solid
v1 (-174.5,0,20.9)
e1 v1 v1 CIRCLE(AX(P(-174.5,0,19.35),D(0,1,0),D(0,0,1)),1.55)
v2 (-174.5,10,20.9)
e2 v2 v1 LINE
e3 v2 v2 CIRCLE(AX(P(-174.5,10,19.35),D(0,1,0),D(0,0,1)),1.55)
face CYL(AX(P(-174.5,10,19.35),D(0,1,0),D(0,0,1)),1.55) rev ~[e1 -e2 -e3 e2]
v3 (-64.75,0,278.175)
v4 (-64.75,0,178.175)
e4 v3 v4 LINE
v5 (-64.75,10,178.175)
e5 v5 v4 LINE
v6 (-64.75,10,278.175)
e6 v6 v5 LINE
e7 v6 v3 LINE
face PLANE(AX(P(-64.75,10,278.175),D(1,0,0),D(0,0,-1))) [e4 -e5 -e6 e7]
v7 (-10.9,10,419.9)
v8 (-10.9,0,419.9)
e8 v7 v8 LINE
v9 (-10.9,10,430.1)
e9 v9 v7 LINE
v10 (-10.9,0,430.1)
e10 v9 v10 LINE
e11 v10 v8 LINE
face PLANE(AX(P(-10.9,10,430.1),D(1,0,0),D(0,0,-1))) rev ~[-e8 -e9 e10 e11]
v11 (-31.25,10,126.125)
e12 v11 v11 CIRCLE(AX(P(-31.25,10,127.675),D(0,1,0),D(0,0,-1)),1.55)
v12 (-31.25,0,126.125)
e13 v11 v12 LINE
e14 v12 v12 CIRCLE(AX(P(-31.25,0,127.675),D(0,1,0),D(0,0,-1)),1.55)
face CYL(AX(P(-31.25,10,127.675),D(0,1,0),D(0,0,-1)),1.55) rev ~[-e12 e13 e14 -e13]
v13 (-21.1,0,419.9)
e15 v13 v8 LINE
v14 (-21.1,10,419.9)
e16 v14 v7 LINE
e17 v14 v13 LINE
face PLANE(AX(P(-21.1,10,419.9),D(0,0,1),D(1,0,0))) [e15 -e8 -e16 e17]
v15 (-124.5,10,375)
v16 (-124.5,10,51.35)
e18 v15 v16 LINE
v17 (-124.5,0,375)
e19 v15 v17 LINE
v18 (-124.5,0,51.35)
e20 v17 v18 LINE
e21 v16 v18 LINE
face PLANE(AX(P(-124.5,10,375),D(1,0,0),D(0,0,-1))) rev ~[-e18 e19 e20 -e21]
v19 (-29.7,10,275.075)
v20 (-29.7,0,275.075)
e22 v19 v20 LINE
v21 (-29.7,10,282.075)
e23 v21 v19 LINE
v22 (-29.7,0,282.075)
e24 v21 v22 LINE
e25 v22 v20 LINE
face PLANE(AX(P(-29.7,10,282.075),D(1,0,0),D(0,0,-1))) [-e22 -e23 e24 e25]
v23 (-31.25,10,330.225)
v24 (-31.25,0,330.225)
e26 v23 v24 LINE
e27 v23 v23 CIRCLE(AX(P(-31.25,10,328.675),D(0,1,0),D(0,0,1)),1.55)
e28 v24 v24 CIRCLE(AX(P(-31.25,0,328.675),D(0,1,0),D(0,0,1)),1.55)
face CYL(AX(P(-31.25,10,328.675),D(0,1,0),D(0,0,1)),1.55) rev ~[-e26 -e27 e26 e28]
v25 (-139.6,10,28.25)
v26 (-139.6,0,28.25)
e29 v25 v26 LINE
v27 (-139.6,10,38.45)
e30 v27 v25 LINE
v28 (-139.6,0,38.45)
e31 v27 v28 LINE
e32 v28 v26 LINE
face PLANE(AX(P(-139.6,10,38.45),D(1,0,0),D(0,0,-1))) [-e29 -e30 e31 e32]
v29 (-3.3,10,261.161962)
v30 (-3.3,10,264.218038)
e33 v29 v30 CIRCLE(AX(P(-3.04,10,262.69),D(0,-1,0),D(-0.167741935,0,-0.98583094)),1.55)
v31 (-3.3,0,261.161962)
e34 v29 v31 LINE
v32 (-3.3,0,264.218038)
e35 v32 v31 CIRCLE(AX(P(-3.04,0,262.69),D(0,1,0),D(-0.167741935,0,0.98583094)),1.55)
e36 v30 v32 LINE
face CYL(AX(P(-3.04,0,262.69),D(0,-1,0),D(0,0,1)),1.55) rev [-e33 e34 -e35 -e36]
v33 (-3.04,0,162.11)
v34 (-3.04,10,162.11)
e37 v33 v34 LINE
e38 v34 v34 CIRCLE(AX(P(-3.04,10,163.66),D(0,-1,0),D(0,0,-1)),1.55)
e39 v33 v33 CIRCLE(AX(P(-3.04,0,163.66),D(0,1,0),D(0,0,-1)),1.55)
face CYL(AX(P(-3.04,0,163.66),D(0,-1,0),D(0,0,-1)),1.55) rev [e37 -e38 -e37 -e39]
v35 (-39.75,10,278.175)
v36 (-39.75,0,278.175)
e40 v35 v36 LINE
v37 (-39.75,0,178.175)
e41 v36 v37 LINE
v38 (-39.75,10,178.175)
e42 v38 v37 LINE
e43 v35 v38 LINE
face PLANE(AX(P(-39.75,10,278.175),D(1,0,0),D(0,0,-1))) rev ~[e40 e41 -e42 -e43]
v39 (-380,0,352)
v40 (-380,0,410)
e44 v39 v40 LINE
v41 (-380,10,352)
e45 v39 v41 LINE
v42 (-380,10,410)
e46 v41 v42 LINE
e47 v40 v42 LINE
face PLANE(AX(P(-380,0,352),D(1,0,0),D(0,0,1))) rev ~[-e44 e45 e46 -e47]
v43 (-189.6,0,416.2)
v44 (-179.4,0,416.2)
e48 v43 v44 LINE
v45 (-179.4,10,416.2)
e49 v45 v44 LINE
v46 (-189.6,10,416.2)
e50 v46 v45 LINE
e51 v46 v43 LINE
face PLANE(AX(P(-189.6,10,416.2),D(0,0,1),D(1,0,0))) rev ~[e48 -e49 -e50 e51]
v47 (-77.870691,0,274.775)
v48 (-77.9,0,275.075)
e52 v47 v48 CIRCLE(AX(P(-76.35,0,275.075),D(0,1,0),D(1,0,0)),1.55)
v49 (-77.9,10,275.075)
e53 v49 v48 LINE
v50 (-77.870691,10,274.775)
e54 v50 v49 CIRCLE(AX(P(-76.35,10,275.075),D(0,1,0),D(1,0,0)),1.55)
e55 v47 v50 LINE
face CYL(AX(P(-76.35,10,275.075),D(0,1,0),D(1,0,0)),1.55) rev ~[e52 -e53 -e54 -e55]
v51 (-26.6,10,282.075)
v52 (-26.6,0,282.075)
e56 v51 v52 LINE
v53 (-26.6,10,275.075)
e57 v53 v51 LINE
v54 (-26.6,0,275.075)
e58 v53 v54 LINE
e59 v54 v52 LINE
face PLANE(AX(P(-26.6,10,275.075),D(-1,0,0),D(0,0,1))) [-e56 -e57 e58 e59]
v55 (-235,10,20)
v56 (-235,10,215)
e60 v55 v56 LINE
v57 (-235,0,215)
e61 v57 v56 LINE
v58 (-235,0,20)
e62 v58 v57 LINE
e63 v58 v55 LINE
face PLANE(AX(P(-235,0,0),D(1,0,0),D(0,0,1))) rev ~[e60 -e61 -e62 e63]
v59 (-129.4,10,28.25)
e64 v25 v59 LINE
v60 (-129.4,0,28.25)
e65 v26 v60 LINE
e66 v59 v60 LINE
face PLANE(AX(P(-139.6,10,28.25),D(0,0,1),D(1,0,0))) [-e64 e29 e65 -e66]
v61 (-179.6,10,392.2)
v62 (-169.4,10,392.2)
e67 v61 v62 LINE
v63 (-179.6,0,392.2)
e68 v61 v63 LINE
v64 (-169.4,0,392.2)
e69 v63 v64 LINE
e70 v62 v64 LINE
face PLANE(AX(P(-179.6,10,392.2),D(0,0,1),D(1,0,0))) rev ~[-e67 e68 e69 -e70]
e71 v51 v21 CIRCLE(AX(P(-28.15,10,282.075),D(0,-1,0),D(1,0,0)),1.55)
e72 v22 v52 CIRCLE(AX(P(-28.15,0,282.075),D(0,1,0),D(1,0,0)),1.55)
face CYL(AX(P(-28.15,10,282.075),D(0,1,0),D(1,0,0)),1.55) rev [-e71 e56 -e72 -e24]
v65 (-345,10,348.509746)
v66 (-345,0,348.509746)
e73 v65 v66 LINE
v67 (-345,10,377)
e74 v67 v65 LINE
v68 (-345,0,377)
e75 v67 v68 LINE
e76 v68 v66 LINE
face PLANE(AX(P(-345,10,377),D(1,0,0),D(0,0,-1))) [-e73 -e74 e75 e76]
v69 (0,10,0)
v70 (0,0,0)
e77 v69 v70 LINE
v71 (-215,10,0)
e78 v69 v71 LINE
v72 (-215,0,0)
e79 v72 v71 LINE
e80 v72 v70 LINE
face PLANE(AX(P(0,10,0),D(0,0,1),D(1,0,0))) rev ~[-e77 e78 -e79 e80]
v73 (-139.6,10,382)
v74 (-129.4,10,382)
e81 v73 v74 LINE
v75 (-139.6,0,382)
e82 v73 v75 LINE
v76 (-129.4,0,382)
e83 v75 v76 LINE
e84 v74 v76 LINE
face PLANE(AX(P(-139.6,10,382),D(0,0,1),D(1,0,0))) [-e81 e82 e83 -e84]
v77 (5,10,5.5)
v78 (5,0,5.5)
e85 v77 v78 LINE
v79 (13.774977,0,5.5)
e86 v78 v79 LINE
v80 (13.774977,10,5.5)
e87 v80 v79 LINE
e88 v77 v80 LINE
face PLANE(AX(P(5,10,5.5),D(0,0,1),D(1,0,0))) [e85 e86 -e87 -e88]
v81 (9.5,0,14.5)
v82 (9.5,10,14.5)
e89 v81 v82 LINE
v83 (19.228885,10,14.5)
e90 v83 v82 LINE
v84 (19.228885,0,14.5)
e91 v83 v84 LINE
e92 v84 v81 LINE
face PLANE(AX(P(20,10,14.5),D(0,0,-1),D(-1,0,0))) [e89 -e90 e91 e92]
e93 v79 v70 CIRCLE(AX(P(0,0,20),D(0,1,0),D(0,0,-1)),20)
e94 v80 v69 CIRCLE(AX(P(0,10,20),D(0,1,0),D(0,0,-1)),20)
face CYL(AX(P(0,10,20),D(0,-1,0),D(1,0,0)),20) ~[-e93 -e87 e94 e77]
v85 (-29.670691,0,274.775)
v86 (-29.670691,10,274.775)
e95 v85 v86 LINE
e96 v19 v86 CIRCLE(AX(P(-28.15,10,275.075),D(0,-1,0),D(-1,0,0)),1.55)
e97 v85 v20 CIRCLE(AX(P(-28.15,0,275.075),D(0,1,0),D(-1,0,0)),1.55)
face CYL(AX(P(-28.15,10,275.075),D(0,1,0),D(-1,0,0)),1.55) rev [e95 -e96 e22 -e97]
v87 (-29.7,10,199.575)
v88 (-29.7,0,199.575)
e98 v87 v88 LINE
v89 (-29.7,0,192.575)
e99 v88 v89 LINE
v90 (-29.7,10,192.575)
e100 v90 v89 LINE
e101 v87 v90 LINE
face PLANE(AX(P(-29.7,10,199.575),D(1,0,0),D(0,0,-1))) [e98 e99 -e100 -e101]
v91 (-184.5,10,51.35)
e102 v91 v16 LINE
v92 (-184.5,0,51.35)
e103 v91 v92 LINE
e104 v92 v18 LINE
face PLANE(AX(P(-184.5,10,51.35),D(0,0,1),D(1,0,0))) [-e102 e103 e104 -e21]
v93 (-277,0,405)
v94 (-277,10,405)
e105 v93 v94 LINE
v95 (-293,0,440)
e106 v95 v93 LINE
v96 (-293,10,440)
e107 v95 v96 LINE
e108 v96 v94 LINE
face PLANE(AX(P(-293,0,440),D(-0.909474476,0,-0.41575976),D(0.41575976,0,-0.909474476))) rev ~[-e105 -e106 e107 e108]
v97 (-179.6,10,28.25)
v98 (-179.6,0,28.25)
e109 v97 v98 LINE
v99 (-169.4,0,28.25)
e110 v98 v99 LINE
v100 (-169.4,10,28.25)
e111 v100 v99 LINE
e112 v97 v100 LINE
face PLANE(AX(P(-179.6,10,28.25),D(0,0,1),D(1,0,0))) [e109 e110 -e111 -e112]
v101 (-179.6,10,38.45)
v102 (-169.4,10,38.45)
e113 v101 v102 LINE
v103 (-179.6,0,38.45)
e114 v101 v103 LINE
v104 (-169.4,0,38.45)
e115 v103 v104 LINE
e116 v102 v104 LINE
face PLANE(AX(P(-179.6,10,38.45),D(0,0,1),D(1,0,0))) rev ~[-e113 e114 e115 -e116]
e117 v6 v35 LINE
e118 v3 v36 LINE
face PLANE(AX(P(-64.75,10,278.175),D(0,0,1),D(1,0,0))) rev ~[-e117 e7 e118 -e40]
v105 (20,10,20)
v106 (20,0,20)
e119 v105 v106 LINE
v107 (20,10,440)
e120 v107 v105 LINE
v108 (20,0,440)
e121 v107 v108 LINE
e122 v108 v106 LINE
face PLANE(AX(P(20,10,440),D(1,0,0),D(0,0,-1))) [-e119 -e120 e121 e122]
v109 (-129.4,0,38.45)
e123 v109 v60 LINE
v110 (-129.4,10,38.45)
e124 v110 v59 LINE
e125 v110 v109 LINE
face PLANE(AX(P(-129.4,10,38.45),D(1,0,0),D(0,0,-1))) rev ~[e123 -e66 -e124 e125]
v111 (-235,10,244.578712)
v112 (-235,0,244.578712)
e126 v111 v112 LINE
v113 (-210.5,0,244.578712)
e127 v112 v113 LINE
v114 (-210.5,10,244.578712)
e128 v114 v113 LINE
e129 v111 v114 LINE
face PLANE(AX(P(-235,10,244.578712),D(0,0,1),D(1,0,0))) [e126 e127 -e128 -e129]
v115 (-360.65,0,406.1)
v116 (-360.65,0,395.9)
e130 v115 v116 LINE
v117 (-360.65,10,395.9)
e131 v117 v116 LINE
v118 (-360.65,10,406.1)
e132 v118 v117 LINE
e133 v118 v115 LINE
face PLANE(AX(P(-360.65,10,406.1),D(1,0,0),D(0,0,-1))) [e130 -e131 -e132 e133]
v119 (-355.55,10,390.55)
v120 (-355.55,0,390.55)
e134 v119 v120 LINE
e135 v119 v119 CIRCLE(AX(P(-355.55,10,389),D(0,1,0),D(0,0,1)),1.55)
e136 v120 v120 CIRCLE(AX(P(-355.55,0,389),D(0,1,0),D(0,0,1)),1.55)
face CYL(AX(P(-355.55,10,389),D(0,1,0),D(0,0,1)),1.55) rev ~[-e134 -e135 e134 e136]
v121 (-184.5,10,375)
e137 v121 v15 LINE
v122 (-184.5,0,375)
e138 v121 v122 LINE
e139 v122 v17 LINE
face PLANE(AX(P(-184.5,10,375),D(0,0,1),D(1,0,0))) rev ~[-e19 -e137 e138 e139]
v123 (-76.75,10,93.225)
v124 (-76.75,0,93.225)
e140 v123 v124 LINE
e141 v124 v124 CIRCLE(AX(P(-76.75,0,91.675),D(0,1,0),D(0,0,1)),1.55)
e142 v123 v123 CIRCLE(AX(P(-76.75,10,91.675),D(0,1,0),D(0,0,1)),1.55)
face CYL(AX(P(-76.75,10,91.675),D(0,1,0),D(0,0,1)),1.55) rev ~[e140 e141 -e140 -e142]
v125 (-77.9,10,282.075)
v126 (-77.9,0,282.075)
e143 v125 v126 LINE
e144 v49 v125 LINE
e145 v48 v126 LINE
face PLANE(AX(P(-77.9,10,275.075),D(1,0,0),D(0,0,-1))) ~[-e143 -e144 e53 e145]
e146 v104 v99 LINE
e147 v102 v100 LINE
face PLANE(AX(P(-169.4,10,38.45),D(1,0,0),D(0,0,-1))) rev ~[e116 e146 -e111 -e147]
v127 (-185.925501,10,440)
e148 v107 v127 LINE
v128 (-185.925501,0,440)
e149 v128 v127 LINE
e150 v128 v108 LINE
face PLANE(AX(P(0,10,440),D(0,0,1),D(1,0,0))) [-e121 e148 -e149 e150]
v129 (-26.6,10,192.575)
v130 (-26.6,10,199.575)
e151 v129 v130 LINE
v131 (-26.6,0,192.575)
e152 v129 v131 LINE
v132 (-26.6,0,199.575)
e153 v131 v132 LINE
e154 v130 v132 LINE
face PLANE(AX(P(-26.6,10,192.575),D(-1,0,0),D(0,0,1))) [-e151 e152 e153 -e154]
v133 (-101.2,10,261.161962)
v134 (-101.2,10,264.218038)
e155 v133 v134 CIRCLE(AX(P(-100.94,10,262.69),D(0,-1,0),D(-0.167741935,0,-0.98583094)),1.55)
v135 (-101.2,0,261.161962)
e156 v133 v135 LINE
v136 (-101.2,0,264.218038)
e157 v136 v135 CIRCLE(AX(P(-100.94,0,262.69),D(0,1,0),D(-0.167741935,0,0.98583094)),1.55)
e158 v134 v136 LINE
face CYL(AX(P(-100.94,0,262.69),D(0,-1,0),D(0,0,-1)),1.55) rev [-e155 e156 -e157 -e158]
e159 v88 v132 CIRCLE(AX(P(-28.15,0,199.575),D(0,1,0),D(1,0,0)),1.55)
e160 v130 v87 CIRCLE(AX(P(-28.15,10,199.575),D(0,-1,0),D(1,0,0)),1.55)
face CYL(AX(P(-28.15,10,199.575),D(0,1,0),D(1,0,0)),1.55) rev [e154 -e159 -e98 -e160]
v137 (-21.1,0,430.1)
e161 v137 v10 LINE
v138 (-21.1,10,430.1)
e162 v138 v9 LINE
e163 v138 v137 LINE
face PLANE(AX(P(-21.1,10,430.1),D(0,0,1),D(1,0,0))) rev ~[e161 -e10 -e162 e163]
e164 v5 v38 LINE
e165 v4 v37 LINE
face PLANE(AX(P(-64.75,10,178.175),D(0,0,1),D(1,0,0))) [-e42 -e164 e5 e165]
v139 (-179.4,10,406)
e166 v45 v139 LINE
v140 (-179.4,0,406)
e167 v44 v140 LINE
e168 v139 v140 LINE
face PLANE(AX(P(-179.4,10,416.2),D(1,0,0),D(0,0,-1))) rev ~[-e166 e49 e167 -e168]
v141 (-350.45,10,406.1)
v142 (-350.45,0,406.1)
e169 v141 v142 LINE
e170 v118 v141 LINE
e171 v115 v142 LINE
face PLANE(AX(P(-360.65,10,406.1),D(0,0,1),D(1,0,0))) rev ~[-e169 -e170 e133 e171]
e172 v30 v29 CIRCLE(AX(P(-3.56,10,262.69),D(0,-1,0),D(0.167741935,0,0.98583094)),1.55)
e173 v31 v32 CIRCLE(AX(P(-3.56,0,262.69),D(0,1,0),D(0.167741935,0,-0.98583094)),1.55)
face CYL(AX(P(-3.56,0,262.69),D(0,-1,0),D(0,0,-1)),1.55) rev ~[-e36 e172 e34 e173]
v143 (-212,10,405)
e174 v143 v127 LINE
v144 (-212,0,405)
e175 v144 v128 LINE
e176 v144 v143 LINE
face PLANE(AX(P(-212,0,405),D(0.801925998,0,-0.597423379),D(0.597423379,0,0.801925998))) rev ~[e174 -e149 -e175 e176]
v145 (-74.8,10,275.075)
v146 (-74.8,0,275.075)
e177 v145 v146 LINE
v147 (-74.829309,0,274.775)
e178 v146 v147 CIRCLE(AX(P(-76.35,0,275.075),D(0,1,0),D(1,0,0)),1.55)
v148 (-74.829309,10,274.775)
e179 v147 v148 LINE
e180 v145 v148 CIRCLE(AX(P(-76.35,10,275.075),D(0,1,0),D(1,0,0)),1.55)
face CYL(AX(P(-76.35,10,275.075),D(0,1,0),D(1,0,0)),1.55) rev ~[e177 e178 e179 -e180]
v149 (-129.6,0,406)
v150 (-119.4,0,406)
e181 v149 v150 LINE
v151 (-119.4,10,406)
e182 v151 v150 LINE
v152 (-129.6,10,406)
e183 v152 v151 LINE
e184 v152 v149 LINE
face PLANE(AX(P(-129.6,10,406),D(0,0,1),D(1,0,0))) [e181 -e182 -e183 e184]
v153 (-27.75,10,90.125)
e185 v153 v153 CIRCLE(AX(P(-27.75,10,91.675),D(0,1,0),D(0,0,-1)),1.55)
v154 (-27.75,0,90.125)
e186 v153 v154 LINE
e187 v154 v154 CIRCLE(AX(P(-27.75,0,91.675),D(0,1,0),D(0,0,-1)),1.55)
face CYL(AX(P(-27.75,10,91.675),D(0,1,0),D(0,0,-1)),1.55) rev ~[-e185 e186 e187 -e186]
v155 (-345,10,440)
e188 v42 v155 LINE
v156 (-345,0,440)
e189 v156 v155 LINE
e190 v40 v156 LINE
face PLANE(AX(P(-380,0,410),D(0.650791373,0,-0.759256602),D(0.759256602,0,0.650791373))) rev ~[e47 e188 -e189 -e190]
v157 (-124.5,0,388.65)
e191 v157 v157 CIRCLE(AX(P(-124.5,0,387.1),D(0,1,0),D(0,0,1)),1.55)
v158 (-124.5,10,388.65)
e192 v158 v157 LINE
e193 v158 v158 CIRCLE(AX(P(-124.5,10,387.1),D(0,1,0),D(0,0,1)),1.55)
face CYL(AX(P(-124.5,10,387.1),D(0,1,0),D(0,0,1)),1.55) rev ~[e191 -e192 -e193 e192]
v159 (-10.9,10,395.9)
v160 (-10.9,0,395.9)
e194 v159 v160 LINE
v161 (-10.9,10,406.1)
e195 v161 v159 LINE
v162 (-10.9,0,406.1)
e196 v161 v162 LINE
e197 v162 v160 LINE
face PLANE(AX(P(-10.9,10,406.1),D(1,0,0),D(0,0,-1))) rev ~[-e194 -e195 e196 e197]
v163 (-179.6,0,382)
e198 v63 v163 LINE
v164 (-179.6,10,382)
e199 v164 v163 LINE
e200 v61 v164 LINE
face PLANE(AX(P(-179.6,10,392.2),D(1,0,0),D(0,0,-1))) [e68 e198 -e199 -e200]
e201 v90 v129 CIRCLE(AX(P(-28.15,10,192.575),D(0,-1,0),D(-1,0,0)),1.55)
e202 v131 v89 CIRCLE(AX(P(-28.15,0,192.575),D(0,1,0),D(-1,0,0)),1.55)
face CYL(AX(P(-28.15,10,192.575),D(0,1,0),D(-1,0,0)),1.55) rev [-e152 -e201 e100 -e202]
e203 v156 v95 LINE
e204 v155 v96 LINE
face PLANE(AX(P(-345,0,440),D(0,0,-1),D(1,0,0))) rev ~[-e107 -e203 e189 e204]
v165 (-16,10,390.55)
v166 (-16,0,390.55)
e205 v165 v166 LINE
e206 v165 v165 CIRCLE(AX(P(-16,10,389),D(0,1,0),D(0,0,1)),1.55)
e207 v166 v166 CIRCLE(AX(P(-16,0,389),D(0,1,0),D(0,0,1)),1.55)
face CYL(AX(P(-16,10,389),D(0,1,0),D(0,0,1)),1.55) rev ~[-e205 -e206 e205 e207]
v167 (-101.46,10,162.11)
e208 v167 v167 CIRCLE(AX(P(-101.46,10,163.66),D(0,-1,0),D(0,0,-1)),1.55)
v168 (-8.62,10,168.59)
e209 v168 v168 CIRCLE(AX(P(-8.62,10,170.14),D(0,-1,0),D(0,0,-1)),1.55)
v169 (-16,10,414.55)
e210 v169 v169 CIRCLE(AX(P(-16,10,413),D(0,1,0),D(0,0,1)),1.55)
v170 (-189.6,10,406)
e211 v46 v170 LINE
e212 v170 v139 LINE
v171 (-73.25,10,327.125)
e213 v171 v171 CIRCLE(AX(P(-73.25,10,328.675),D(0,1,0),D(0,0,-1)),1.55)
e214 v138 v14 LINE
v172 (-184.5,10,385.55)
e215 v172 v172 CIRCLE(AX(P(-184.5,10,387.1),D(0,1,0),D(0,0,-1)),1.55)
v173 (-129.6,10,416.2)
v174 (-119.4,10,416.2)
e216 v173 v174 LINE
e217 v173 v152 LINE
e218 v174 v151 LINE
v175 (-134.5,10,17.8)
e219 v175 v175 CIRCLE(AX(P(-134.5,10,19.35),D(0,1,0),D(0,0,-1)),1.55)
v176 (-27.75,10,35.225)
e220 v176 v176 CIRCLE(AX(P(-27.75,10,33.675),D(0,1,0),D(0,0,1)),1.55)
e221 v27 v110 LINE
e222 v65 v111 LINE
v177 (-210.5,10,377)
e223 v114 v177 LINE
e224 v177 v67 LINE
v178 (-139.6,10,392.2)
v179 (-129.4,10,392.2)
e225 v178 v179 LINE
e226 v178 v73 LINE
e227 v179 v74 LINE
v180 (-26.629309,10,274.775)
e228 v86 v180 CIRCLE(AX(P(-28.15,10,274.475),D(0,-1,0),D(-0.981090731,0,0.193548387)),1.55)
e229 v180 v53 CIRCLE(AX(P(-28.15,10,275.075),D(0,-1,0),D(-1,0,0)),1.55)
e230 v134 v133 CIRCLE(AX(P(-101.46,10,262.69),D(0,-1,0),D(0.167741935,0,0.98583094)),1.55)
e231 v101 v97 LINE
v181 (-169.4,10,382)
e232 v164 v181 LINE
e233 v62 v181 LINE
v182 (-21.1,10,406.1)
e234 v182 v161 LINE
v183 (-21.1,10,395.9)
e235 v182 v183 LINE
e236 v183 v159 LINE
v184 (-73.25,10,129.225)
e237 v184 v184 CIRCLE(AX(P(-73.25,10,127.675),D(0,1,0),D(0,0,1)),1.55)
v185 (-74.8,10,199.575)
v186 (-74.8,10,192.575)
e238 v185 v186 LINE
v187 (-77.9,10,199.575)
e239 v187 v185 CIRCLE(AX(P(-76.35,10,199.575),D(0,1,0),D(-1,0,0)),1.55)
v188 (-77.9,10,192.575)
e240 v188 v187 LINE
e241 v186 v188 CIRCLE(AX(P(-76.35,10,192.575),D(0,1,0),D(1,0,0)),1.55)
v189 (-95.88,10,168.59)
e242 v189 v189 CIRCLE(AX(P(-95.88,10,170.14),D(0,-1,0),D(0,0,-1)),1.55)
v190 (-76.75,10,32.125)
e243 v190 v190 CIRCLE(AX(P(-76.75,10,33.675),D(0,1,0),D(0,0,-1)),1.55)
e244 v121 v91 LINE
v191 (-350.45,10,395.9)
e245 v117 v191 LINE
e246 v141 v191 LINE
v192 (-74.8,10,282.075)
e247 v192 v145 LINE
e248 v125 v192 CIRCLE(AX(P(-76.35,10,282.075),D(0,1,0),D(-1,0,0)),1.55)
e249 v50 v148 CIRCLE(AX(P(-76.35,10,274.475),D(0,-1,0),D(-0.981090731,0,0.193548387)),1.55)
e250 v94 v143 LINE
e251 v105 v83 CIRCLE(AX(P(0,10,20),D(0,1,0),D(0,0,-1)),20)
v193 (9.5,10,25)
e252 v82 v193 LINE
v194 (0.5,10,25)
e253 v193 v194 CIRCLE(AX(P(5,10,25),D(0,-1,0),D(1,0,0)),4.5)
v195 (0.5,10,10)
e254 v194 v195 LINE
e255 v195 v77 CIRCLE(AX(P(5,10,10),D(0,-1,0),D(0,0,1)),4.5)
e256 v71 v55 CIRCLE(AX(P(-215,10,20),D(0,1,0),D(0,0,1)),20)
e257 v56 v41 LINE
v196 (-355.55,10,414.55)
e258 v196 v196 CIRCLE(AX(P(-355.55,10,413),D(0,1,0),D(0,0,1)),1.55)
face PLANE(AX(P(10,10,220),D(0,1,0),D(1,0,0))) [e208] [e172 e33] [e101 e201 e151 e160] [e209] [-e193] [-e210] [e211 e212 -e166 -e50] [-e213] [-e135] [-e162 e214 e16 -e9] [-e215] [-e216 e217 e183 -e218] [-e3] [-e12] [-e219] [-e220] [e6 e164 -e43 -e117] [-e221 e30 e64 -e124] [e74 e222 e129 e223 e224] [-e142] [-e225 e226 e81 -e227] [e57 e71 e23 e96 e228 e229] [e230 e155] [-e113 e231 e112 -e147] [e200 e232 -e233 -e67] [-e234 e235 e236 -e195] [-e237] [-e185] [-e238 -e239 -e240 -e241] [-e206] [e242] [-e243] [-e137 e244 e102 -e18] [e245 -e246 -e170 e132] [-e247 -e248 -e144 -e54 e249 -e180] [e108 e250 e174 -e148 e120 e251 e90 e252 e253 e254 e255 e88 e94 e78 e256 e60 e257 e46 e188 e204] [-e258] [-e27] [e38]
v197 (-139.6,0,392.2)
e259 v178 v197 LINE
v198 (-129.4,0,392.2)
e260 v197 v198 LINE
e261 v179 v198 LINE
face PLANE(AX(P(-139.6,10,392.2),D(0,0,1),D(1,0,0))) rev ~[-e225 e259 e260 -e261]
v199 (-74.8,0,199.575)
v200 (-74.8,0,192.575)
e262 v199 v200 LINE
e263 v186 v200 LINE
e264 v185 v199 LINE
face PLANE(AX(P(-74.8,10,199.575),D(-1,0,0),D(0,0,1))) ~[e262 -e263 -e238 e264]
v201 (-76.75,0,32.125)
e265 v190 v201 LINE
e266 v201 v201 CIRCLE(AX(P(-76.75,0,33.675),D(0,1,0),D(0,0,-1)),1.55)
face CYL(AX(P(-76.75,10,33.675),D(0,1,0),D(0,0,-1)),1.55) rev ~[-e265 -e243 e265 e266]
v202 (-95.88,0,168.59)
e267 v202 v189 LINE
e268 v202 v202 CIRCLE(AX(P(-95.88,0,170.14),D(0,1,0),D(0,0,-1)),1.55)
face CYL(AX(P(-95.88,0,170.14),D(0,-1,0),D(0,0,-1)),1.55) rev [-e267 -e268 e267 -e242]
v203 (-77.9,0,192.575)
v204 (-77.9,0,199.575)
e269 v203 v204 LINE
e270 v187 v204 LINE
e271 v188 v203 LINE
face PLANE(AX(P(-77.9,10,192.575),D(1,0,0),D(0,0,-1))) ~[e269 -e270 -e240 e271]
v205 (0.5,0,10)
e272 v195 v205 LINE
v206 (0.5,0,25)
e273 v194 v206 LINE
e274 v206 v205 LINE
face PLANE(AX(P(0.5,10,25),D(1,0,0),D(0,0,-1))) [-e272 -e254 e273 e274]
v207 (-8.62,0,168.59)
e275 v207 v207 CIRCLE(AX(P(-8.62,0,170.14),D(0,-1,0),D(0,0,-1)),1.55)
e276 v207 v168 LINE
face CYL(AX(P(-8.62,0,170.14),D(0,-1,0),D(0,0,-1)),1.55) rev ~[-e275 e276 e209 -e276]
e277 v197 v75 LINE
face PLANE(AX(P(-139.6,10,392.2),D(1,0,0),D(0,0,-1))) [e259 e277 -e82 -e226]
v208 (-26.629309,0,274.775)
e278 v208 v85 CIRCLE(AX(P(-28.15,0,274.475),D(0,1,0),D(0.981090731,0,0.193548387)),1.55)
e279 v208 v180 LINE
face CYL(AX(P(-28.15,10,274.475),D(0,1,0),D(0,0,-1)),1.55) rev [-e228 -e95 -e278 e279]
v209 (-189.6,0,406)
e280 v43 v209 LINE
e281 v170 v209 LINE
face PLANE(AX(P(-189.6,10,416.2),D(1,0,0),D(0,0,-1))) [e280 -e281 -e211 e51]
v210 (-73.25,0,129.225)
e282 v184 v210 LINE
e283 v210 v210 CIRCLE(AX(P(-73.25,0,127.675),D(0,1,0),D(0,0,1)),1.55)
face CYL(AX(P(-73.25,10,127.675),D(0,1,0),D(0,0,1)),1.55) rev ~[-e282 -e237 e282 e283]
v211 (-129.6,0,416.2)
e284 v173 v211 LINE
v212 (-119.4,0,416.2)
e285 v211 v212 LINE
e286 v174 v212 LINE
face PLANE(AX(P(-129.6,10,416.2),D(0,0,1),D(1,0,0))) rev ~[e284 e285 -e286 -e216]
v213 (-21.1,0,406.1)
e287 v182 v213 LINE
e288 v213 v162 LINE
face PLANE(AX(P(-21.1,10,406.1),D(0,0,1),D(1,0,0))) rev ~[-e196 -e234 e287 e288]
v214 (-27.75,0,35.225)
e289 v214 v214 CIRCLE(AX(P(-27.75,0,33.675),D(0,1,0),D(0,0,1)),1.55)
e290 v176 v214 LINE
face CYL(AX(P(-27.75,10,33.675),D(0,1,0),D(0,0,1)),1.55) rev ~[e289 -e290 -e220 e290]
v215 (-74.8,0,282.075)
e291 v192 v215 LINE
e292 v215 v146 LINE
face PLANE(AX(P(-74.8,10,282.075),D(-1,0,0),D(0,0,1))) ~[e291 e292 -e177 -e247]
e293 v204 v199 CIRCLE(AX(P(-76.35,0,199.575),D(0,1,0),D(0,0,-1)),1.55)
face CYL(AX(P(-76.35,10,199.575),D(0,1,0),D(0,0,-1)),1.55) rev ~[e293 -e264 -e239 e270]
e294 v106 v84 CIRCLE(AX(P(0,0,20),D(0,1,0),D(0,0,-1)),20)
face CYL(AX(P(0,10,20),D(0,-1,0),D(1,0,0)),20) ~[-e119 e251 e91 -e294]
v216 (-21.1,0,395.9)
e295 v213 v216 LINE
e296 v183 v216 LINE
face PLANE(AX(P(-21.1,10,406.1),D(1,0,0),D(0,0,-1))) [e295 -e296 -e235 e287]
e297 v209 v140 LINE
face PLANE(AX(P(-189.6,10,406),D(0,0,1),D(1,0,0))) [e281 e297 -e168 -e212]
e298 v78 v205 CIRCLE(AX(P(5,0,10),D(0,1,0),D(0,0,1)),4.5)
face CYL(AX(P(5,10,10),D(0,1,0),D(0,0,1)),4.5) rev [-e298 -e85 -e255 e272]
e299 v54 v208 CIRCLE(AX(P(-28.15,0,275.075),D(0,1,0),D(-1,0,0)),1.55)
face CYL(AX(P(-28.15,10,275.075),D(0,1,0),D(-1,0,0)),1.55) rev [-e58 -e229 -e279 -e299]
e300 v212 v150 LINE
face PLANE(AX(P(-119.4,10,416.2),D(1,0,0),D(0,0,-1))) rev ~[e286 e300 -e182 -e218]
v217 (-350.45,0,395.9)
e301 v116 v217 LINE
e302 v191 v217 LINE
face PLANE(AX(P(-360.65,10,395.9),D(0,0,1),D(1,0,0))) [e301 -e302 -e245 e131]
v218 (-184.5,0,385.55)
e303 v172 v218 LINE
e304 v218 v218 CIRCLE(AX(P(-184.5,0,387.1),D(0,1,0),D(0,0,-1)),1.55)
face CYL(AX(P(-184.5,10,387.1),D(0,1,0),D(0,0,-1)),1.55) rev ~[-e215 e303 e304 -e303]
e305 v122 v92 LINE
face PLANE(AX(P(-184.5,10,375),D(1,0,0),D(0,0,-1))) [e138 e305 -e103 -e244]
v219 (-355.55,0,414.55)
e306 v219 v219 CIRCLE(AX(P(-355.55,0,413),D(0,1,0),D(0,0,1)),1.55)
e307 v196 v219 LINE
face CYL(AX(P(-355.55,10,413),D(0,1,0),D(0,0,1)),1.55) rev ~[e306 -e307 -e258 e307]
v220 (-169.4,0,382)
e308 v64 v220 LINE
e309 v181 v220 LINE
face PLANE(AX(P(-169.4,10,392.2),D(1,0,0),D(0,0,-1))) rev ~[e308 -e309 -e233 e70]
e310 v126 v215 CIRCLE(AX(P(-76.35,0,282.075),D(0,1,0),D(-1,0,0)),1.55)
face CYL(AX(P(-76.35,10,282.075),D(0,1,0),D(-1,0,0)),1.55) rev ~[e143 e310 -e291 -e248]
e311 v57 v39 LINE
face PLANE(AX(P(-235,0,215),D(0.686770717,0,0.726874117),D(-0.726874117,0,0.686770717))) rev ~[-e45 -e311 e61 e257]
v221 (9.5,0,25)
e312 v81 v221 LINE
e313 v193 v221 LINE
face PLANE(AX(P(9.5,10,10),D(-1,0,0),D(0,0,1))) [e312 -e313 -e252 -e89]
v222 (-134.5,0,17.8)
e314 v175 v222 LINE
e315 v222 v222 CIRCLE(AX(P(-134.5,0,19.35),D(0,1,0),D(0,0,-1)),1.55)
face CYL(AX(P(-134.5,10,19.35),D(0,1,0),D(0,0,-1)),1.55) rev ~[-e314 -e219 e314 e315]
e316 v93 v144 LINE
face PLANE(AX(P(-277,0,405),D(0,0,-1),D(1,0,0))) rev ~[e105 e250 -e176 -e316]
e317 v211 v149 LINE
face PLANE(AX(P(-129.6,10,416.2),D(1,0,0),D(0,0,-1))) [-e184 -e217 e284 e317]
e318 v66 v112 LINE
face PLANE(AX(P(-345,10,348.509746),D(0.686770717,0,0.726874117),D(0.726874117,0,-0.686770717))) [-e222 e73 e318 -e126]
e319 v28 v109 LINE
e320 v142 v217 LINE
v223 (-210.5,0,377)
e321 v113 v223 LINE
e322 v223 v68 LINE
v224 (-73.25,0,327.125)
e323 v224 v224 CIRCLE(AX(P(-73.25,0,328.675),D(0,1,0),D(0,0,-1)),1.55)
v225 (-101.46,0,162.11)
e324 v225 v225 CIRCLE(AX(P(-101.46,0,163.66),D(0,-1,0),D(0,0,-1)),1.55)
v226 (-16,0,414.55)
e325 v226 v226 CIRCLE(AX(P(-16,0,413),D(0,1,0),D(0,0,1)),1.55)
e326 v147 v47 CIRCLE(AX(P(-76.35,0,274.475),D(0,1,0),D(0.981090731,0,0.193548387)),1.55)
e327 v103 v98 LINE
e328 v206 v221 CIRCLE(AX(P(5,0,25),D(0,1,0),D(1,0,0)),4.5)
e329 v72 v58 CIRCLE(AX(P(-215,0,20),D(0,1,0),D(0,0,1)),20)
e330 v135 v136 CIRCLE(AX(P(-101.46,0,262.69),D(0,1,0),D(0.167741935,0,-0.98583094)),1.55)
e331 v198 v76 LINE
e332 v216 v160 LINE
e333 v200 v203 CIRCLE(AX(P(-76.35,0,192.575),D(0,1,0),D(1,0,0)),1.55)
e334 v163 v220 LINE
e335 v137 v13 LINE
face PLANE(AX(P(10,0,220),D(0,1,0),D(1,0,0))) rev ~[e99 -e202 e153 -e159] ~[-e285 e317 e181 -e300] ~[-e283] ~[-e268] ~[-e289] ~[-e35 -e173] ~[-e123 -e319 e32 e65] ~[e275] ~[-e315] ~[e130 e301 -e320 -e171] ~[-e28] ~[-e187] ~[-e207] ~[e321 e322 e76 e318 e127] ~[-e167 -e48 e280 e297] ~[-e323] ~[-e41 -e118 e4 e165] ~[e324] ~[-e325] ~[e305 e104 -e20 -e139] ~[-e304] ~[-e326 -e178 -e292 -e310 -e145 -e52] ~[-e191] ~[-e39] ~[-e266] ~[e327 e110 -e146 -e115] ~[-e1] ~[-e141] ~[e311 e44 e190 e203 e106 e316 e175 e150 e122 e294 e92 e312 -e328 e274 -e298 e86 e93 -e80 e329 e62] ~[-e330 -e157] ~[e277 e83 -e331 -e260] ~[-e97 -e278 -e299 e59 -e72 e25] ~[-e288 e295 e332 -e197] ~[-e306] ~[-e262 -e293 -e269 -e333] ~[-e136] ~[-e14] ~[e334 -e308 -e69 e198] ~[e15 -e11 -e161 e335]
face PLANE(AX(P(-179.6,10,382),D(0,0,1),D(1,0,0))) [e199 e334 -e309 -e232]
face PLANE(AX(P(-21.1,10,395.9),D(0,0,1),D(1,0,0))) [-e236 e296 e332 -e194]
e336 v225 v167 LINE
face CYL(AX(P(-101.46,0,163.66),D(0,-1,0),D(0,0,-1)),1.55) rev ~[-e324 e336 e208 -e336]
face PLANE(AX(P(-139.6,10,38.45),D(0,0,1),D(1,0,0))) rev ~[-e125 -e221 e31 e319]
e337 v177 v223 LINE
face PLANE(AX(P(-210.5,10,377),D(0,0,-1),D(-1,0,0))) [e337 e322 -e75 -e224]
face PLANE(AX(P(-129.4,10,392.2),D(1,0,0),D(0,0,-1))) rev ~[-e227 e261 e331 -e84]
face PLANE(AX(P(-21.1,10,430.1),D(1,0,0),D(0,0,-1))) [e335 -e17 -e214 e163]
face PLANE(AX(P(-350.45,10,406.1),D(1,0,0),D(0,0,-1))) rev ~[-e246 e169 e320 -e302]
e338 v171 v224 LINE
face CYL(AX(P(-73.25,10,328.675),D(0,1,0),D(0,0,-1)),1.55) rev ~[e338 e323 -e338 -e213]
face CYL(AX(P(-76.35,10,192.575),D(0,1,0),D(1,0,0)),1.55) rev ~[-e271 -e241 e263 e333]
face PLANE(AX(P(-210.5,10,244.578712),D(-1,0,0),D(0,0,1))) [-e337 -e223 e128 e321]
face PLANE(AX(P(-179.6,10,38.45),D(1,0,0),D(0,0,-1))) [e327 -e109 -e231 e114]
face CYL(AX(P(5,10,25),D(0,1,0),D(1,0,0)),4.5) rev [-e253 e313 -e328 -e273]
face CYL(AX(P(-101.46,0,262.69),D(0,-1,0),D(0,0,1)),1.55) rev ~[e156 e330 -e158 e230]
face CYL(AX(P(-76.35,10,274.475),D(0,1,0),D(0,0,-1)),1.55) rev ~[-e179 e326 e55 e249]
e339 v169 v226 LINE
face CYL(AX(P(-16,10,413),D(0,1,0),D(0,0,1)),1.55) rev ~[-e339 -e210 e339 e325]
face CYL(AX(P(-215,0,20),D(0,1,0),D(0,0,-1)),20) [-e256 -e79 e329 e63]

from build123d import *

# Parameters (mm, degrees)
BOSS_EXTRUDE1_DEPTH               = 10
SKETCH16_W                        = 20
SKETCH16_H                        = 440
BOSS_EXTRUDE2_DEPTH               = 10
SKETCH2_R                         = 1.55
SKETCH2_W                         = 60
SKETCH2_H                         = 323.65
SKETCH2_W_2                       = 10.2
SKETCH2_H_2                       = 10.2
CUT_EXTRUDE1_DEPTH                = 582.463670404
FILLET1_R                         = 20
SKETCH10_W                        = 25
SKETCH10_H                        = 100
WIRINGSLOT_DEPTH                  = 582.463670404
SKETCH6_R                         = 1.55
MOUNTINGHOLES_RAMPS_DEPTH         = 582.463670404
SKETCH5_R                         = 1.55
MOUNTINGHOLES_MELZI_DEPTH         = 582.463670404
SKETCH13_R                        = 1.55
MOUNTINGHOLES_SMOOTHIEBOARD_DEPTH = 582.463670404
SKETCH21_R                        = 1.55
PI_2_DEPTH                        = 582.463670404
CUT_EXTRUDE3_DEPTH                = 582.463670404
CUT_EXTRUDE4_DEPTH                = 582.463670404


with BuildPart() as part:
    # Sketch1 → Boss-Extrude1 (new body)
    with BuildSketch(Plane(origin=(0, 0, 0), x_dir=(1, 0, 0), z_dir=(0, 1, 0))):
        Polygon((0, 0), (-235, 0), (-235, -215), (-380, -352), (-380, -410), (-345, -440), (-293, -440), (-277, -405), (-212, -405), (-185.925501433, -440), (0, -440), align=None)
    extrude(amount=BOSS_EXTRUDE1_DEPTH)

    # Sketch16 → Boss-Extrude2 (add, through all)
    with BuildSketch(Plane(origin=(0, 10, 0), x_dir=(1, 0, 0), z_dir=(0, 1, 0))):
        with Locations((10, -220)):
            Rectangle(SKETCH16_W, SKETCH16_H)
    extrude(amount=-BOSS_EXTRUDE2_DEPTH)

    # Sketch2 → Cut-Extrude1 (cut, through all)
    with BuildSketch(Plane(origin=(0, 10, 0), x_dir=(1, 0, 0), z_dir=(0, 1, 0))):
        with Locations(Location((-16, -413, 0), (0, 0, 270))):
            Circle(SKETCH2_R)
        with Locations(Location((-16, -389, 0), (0, 0, 270))):
            Circle(SKETCH2_R)
        with Locations(Location((-355.55, -413, 0), (0, 0, 270))):
            Circle(SKETCH2_R)
        with Locations(Location((-355.55, -389, 0), (0, 0, 270))):
            Circle(SKETCH2_R)
        with Locations(Location((-174.5, -19.35, 0), (0, 0, 270))):
            Circle(SKETCH2_R)
        with Locations(Location((-134.5, -19.35, 0), (0, 0, 90))):
            Circle(SKETCH2_R)
        with Locations(Location((-124.5, -387.1, 0), (0, 0, 270))):
            Circle(SKETCH2_R)
        with Locations(Location((-184.5, -387.1, 0), (0, 0, 90))):
            Circle(SKETCH2_R)
        Polygon((-345, -348.509746257), (-235, -244.578711775), (-210.5, -244.578711775), (-210.5, -377), (-345, -377), align=None)
        with Locations((-154.5, -213.175)):
            Rectangle(SKETCH2_W, SKETCH2_H)
        with Locations((-16, -425)):
            Rectangle(SKETCH2_W_2, SKETCH2_H_2)
        with Locations((-16, -401)):
            Rectangle(SKETCH2_W_2, SKETCH2_H_2)
        with Locations((-355.55, -401)):
            Rectangle(SKETCH2_W_2, SKETCH2_H_2)
        with Locations((-174.5, -33.35)):
            Rectangle(SKETCH2_W_2, SKETCH2_H_2)
        with Locations((-134.5, -33.35)):
            Rectangle(SKETCH2_W_2, SKETCH2_H_2)
        with Locations((-174.5, -387.1)):
            Rectangle(SKETCH2_W_2, SKETCH2_H_2)
        with Locations((-134.5, -387.1)):
            Rectangle(SKETCH2_W_2, SKETCH2_H_2)
        with Locations((-184.5, -411.1)):
            Rectangle(SKETCH2_W_2, SKETCH2_H_2)
        with Locations((-124.5, -411.1)):
            Rectangle(SKETCH2_W_2, SKETCH2_H_2)
    extrude(amount=-CUT_EXTRUDE1_DEPTH, mode=Mode.SUBTRACT)

    # Fillet1
    fillet1_edges = [part.edges().sort_by_distance(p)[0] for p in [
        (-235, 5, 0),
        (20, 5, 0),
    ]]
    fillet(fillet1_edges, radius=FILLET1_R)

    # Sketch10 → WiringSlot (cut, through all)
    with BuildSketch(Plane(origin=(0, 10, 0), x_dir=(1, 0, 0), z_dir=(0, 1, 0))):
        with Locations((-52.25, -228.175)):
            Rectangle(SKETCH10_W, SKETCH10_H)
    extrude(amount=-WIRINGSLOT_DEPTH, mode=Mode.SUBTRACT)

    # Sketch6 → MountingHoles-RAMPS (cut, through all)
    with BuildSketch(Plane(origin=(0, 10, 0), x_dir=(1, 0, 0), z_dir=(0, 1, 0))):
        with Locations(Location((-76.35, -274.475, 0), (0, 0, 90))):
            Circle(SKETCH6_R)
        with Locations(Location((-76.35, -199.575, 0), (0, 0, 90))):
            Circle(SKETCH6_R)
        with BuildLine():
            Line((-26.6, -192.575), (-26.6, -199.575))
            ThreePointArc((-26.6, -199.575), (-28.15, -201.125), (-29.7, -199.575))
            Line((-29.7, -199.575), (-29.7, -192.575))
            ThreePointArc((-29.7, -192.575), (-28.15, -191.025), (-26.6, -192.575))
        make_face()
        with BuildLine():
            Line((-29.7, -282.075), (-29.7, -275.075))
            ThreePointArc((-29.7, -275.075), (-28.15, -273.525), (-26.6, -275.075))
            Line((-26.6, -275.075), (-26.6, -282.075))
            ThreePointArc((-26.6, -282.075), (-28.15, -283.625), (-29.7, -282.075))
        make_face()
    mountingholes_ramps = extrude(amount=-MOUNTINGHOLES_RAMPS_DEPTH, mode=Mode.SUBTRACT)

    # Mirror1: MountingHoles-RAMPS across plane
    add(mountingholes_ramps.mirror(Plane(origin=(-52.25, 0, 0), x_dir=(0, 0, 1), z_dir=(1, 0, 0))), mode=Mode.SUBTRACT)

    # Sketch5 → MountingHoles-Melzi (cut, through all)
    with BuildSketch(Plane(origin=(0, 10, 0), x_dir=(1, 0, 0), z_dir=(0, 1, 0))):
        with Locations(Location((-73.25, -127.675, 0), (0, 0, 270))):
            Circle(SKETCH5_R)
        with Locations(Location((-31.25, -127.675, 0), (0, 0, 90))):
            Circle(SKETCH5_R)
        with Locations(Location((-31.25, -328.675, 0), (0, 0, 270))):
            Circle(SKETCH5_R)
        with Locations(Location((-73.25, -328.675, 0), (0, 0, 90))):
            Circle(SKETCH5_R)
    extrude(amount=-MOUNTINGHOLES_MELZI_DEPTH, mode=Mode.SUBTRACT)

    # Sketch13 → Mountingholes-Smoothieboard (cut, through all)
    with BuildSketch(Plane(origin=(0, 0, 0), x_dir=(-1, 0, 0), z_dir=(0, -1, 0))):
        with Locations(Location((101.46, -163.66, 0), (0, 0, 90))):
            Circle(SKETCH13_R)
        with Locations(Location((101.46, -262.69, 0), (0, 0, 270))):
            Circle(SKETCH13_R)
        with Locations(Location((8.62, -170.14, 0), (0, 0, 90))):
            Circle(SKETCH13_R)
        with Locations(Location((3.56, -262.69, 0), (0, 0, 90))):
            Circle(SKETCH13_R)
    mountingholes_smoothieboard = extrude(amount=-MOUNTINGHOLES_SMOOTHIEBOARD_DEPTH, mode=Mode.SUBTRACT)

    # Flipped: Mountingholes-Smoothieboard across plane
    add(mountingholes_smoothieboard.mirror(Plane(origin=(-52.25, 0, 0), x_dir=(0, 0, 1), z_dir=(1, 0, 0))), mode=Mode.SUBTRACT)

    # Sketch21 → Pi 2 (cut, through all)
    with BuildSketch(Plane(origin=(0, 10, 0), x_dir=(1, 0, 0), z_dir=(0, 1, 0))):
        with Locations(Location((-27.75, -33.675, 0), (0, 0, 270))):
            Circle(SKETCH21_R)
        with Locations(Location((-76.75, -33.675, 0), (0, 0, 90))):
            Circle(SKETCH21_R)
        with Locations(Location((-76.75, -91.675, 0), (0, 0, 270))):
            Circle(SKETCH21_R)
        with Locations(Location((-27.75, -91.675, 0), (0, 0, 90))):
            Circle(SKETCH21_R)
    extrude(amount=-PI_2_DEPTH, mode=Mode.SUBTRACT)

    # Sketch17 → Cut-Extrude3 (cut, through all)
    with BuildSketch(Plane(origin=(0, 10, 0), x_dir=(1, 0, 0), z_dir=(0, 1, 0))):
        with BuildLine():
            Line((20, -14.5), (5, -14.5))
            ThreePointArc((5, -14.5), (0.5, -10), (5, -5.5))
            Line((5, -5.5), (20, -5.5))
            ThreePointArc((20, -5.5), (24.5, -10), (20, -14.5))
        make_face()
    extrude(amount=-CUT_EXTRUDE3_DEPTH, mode=Mode.SUBTRACT)

    # Sketch18 → Cut-Extrude4 (cut, through all)
    with BuildSketch(Plane(origin=(0, 10, 0), x_dir=(1, 0, 0), z_dir=(0, 1, 0))):
        with BuildLine():
            Line((9.5, -10), (9.5, -25))
            ThreePointArc((9.5, -25), (5, -29.5), (0.5, -25))
            Line((0.5, -25), (0.5, -10))
            ThreePointArc((0.5, -10), (5, -5.5), (9.5, -10))
        make_face()
    extrude(amount=-CUT_EXTRUDE4_DEPTH, mode=Mode.SUBTRACT)


solid = part.part
